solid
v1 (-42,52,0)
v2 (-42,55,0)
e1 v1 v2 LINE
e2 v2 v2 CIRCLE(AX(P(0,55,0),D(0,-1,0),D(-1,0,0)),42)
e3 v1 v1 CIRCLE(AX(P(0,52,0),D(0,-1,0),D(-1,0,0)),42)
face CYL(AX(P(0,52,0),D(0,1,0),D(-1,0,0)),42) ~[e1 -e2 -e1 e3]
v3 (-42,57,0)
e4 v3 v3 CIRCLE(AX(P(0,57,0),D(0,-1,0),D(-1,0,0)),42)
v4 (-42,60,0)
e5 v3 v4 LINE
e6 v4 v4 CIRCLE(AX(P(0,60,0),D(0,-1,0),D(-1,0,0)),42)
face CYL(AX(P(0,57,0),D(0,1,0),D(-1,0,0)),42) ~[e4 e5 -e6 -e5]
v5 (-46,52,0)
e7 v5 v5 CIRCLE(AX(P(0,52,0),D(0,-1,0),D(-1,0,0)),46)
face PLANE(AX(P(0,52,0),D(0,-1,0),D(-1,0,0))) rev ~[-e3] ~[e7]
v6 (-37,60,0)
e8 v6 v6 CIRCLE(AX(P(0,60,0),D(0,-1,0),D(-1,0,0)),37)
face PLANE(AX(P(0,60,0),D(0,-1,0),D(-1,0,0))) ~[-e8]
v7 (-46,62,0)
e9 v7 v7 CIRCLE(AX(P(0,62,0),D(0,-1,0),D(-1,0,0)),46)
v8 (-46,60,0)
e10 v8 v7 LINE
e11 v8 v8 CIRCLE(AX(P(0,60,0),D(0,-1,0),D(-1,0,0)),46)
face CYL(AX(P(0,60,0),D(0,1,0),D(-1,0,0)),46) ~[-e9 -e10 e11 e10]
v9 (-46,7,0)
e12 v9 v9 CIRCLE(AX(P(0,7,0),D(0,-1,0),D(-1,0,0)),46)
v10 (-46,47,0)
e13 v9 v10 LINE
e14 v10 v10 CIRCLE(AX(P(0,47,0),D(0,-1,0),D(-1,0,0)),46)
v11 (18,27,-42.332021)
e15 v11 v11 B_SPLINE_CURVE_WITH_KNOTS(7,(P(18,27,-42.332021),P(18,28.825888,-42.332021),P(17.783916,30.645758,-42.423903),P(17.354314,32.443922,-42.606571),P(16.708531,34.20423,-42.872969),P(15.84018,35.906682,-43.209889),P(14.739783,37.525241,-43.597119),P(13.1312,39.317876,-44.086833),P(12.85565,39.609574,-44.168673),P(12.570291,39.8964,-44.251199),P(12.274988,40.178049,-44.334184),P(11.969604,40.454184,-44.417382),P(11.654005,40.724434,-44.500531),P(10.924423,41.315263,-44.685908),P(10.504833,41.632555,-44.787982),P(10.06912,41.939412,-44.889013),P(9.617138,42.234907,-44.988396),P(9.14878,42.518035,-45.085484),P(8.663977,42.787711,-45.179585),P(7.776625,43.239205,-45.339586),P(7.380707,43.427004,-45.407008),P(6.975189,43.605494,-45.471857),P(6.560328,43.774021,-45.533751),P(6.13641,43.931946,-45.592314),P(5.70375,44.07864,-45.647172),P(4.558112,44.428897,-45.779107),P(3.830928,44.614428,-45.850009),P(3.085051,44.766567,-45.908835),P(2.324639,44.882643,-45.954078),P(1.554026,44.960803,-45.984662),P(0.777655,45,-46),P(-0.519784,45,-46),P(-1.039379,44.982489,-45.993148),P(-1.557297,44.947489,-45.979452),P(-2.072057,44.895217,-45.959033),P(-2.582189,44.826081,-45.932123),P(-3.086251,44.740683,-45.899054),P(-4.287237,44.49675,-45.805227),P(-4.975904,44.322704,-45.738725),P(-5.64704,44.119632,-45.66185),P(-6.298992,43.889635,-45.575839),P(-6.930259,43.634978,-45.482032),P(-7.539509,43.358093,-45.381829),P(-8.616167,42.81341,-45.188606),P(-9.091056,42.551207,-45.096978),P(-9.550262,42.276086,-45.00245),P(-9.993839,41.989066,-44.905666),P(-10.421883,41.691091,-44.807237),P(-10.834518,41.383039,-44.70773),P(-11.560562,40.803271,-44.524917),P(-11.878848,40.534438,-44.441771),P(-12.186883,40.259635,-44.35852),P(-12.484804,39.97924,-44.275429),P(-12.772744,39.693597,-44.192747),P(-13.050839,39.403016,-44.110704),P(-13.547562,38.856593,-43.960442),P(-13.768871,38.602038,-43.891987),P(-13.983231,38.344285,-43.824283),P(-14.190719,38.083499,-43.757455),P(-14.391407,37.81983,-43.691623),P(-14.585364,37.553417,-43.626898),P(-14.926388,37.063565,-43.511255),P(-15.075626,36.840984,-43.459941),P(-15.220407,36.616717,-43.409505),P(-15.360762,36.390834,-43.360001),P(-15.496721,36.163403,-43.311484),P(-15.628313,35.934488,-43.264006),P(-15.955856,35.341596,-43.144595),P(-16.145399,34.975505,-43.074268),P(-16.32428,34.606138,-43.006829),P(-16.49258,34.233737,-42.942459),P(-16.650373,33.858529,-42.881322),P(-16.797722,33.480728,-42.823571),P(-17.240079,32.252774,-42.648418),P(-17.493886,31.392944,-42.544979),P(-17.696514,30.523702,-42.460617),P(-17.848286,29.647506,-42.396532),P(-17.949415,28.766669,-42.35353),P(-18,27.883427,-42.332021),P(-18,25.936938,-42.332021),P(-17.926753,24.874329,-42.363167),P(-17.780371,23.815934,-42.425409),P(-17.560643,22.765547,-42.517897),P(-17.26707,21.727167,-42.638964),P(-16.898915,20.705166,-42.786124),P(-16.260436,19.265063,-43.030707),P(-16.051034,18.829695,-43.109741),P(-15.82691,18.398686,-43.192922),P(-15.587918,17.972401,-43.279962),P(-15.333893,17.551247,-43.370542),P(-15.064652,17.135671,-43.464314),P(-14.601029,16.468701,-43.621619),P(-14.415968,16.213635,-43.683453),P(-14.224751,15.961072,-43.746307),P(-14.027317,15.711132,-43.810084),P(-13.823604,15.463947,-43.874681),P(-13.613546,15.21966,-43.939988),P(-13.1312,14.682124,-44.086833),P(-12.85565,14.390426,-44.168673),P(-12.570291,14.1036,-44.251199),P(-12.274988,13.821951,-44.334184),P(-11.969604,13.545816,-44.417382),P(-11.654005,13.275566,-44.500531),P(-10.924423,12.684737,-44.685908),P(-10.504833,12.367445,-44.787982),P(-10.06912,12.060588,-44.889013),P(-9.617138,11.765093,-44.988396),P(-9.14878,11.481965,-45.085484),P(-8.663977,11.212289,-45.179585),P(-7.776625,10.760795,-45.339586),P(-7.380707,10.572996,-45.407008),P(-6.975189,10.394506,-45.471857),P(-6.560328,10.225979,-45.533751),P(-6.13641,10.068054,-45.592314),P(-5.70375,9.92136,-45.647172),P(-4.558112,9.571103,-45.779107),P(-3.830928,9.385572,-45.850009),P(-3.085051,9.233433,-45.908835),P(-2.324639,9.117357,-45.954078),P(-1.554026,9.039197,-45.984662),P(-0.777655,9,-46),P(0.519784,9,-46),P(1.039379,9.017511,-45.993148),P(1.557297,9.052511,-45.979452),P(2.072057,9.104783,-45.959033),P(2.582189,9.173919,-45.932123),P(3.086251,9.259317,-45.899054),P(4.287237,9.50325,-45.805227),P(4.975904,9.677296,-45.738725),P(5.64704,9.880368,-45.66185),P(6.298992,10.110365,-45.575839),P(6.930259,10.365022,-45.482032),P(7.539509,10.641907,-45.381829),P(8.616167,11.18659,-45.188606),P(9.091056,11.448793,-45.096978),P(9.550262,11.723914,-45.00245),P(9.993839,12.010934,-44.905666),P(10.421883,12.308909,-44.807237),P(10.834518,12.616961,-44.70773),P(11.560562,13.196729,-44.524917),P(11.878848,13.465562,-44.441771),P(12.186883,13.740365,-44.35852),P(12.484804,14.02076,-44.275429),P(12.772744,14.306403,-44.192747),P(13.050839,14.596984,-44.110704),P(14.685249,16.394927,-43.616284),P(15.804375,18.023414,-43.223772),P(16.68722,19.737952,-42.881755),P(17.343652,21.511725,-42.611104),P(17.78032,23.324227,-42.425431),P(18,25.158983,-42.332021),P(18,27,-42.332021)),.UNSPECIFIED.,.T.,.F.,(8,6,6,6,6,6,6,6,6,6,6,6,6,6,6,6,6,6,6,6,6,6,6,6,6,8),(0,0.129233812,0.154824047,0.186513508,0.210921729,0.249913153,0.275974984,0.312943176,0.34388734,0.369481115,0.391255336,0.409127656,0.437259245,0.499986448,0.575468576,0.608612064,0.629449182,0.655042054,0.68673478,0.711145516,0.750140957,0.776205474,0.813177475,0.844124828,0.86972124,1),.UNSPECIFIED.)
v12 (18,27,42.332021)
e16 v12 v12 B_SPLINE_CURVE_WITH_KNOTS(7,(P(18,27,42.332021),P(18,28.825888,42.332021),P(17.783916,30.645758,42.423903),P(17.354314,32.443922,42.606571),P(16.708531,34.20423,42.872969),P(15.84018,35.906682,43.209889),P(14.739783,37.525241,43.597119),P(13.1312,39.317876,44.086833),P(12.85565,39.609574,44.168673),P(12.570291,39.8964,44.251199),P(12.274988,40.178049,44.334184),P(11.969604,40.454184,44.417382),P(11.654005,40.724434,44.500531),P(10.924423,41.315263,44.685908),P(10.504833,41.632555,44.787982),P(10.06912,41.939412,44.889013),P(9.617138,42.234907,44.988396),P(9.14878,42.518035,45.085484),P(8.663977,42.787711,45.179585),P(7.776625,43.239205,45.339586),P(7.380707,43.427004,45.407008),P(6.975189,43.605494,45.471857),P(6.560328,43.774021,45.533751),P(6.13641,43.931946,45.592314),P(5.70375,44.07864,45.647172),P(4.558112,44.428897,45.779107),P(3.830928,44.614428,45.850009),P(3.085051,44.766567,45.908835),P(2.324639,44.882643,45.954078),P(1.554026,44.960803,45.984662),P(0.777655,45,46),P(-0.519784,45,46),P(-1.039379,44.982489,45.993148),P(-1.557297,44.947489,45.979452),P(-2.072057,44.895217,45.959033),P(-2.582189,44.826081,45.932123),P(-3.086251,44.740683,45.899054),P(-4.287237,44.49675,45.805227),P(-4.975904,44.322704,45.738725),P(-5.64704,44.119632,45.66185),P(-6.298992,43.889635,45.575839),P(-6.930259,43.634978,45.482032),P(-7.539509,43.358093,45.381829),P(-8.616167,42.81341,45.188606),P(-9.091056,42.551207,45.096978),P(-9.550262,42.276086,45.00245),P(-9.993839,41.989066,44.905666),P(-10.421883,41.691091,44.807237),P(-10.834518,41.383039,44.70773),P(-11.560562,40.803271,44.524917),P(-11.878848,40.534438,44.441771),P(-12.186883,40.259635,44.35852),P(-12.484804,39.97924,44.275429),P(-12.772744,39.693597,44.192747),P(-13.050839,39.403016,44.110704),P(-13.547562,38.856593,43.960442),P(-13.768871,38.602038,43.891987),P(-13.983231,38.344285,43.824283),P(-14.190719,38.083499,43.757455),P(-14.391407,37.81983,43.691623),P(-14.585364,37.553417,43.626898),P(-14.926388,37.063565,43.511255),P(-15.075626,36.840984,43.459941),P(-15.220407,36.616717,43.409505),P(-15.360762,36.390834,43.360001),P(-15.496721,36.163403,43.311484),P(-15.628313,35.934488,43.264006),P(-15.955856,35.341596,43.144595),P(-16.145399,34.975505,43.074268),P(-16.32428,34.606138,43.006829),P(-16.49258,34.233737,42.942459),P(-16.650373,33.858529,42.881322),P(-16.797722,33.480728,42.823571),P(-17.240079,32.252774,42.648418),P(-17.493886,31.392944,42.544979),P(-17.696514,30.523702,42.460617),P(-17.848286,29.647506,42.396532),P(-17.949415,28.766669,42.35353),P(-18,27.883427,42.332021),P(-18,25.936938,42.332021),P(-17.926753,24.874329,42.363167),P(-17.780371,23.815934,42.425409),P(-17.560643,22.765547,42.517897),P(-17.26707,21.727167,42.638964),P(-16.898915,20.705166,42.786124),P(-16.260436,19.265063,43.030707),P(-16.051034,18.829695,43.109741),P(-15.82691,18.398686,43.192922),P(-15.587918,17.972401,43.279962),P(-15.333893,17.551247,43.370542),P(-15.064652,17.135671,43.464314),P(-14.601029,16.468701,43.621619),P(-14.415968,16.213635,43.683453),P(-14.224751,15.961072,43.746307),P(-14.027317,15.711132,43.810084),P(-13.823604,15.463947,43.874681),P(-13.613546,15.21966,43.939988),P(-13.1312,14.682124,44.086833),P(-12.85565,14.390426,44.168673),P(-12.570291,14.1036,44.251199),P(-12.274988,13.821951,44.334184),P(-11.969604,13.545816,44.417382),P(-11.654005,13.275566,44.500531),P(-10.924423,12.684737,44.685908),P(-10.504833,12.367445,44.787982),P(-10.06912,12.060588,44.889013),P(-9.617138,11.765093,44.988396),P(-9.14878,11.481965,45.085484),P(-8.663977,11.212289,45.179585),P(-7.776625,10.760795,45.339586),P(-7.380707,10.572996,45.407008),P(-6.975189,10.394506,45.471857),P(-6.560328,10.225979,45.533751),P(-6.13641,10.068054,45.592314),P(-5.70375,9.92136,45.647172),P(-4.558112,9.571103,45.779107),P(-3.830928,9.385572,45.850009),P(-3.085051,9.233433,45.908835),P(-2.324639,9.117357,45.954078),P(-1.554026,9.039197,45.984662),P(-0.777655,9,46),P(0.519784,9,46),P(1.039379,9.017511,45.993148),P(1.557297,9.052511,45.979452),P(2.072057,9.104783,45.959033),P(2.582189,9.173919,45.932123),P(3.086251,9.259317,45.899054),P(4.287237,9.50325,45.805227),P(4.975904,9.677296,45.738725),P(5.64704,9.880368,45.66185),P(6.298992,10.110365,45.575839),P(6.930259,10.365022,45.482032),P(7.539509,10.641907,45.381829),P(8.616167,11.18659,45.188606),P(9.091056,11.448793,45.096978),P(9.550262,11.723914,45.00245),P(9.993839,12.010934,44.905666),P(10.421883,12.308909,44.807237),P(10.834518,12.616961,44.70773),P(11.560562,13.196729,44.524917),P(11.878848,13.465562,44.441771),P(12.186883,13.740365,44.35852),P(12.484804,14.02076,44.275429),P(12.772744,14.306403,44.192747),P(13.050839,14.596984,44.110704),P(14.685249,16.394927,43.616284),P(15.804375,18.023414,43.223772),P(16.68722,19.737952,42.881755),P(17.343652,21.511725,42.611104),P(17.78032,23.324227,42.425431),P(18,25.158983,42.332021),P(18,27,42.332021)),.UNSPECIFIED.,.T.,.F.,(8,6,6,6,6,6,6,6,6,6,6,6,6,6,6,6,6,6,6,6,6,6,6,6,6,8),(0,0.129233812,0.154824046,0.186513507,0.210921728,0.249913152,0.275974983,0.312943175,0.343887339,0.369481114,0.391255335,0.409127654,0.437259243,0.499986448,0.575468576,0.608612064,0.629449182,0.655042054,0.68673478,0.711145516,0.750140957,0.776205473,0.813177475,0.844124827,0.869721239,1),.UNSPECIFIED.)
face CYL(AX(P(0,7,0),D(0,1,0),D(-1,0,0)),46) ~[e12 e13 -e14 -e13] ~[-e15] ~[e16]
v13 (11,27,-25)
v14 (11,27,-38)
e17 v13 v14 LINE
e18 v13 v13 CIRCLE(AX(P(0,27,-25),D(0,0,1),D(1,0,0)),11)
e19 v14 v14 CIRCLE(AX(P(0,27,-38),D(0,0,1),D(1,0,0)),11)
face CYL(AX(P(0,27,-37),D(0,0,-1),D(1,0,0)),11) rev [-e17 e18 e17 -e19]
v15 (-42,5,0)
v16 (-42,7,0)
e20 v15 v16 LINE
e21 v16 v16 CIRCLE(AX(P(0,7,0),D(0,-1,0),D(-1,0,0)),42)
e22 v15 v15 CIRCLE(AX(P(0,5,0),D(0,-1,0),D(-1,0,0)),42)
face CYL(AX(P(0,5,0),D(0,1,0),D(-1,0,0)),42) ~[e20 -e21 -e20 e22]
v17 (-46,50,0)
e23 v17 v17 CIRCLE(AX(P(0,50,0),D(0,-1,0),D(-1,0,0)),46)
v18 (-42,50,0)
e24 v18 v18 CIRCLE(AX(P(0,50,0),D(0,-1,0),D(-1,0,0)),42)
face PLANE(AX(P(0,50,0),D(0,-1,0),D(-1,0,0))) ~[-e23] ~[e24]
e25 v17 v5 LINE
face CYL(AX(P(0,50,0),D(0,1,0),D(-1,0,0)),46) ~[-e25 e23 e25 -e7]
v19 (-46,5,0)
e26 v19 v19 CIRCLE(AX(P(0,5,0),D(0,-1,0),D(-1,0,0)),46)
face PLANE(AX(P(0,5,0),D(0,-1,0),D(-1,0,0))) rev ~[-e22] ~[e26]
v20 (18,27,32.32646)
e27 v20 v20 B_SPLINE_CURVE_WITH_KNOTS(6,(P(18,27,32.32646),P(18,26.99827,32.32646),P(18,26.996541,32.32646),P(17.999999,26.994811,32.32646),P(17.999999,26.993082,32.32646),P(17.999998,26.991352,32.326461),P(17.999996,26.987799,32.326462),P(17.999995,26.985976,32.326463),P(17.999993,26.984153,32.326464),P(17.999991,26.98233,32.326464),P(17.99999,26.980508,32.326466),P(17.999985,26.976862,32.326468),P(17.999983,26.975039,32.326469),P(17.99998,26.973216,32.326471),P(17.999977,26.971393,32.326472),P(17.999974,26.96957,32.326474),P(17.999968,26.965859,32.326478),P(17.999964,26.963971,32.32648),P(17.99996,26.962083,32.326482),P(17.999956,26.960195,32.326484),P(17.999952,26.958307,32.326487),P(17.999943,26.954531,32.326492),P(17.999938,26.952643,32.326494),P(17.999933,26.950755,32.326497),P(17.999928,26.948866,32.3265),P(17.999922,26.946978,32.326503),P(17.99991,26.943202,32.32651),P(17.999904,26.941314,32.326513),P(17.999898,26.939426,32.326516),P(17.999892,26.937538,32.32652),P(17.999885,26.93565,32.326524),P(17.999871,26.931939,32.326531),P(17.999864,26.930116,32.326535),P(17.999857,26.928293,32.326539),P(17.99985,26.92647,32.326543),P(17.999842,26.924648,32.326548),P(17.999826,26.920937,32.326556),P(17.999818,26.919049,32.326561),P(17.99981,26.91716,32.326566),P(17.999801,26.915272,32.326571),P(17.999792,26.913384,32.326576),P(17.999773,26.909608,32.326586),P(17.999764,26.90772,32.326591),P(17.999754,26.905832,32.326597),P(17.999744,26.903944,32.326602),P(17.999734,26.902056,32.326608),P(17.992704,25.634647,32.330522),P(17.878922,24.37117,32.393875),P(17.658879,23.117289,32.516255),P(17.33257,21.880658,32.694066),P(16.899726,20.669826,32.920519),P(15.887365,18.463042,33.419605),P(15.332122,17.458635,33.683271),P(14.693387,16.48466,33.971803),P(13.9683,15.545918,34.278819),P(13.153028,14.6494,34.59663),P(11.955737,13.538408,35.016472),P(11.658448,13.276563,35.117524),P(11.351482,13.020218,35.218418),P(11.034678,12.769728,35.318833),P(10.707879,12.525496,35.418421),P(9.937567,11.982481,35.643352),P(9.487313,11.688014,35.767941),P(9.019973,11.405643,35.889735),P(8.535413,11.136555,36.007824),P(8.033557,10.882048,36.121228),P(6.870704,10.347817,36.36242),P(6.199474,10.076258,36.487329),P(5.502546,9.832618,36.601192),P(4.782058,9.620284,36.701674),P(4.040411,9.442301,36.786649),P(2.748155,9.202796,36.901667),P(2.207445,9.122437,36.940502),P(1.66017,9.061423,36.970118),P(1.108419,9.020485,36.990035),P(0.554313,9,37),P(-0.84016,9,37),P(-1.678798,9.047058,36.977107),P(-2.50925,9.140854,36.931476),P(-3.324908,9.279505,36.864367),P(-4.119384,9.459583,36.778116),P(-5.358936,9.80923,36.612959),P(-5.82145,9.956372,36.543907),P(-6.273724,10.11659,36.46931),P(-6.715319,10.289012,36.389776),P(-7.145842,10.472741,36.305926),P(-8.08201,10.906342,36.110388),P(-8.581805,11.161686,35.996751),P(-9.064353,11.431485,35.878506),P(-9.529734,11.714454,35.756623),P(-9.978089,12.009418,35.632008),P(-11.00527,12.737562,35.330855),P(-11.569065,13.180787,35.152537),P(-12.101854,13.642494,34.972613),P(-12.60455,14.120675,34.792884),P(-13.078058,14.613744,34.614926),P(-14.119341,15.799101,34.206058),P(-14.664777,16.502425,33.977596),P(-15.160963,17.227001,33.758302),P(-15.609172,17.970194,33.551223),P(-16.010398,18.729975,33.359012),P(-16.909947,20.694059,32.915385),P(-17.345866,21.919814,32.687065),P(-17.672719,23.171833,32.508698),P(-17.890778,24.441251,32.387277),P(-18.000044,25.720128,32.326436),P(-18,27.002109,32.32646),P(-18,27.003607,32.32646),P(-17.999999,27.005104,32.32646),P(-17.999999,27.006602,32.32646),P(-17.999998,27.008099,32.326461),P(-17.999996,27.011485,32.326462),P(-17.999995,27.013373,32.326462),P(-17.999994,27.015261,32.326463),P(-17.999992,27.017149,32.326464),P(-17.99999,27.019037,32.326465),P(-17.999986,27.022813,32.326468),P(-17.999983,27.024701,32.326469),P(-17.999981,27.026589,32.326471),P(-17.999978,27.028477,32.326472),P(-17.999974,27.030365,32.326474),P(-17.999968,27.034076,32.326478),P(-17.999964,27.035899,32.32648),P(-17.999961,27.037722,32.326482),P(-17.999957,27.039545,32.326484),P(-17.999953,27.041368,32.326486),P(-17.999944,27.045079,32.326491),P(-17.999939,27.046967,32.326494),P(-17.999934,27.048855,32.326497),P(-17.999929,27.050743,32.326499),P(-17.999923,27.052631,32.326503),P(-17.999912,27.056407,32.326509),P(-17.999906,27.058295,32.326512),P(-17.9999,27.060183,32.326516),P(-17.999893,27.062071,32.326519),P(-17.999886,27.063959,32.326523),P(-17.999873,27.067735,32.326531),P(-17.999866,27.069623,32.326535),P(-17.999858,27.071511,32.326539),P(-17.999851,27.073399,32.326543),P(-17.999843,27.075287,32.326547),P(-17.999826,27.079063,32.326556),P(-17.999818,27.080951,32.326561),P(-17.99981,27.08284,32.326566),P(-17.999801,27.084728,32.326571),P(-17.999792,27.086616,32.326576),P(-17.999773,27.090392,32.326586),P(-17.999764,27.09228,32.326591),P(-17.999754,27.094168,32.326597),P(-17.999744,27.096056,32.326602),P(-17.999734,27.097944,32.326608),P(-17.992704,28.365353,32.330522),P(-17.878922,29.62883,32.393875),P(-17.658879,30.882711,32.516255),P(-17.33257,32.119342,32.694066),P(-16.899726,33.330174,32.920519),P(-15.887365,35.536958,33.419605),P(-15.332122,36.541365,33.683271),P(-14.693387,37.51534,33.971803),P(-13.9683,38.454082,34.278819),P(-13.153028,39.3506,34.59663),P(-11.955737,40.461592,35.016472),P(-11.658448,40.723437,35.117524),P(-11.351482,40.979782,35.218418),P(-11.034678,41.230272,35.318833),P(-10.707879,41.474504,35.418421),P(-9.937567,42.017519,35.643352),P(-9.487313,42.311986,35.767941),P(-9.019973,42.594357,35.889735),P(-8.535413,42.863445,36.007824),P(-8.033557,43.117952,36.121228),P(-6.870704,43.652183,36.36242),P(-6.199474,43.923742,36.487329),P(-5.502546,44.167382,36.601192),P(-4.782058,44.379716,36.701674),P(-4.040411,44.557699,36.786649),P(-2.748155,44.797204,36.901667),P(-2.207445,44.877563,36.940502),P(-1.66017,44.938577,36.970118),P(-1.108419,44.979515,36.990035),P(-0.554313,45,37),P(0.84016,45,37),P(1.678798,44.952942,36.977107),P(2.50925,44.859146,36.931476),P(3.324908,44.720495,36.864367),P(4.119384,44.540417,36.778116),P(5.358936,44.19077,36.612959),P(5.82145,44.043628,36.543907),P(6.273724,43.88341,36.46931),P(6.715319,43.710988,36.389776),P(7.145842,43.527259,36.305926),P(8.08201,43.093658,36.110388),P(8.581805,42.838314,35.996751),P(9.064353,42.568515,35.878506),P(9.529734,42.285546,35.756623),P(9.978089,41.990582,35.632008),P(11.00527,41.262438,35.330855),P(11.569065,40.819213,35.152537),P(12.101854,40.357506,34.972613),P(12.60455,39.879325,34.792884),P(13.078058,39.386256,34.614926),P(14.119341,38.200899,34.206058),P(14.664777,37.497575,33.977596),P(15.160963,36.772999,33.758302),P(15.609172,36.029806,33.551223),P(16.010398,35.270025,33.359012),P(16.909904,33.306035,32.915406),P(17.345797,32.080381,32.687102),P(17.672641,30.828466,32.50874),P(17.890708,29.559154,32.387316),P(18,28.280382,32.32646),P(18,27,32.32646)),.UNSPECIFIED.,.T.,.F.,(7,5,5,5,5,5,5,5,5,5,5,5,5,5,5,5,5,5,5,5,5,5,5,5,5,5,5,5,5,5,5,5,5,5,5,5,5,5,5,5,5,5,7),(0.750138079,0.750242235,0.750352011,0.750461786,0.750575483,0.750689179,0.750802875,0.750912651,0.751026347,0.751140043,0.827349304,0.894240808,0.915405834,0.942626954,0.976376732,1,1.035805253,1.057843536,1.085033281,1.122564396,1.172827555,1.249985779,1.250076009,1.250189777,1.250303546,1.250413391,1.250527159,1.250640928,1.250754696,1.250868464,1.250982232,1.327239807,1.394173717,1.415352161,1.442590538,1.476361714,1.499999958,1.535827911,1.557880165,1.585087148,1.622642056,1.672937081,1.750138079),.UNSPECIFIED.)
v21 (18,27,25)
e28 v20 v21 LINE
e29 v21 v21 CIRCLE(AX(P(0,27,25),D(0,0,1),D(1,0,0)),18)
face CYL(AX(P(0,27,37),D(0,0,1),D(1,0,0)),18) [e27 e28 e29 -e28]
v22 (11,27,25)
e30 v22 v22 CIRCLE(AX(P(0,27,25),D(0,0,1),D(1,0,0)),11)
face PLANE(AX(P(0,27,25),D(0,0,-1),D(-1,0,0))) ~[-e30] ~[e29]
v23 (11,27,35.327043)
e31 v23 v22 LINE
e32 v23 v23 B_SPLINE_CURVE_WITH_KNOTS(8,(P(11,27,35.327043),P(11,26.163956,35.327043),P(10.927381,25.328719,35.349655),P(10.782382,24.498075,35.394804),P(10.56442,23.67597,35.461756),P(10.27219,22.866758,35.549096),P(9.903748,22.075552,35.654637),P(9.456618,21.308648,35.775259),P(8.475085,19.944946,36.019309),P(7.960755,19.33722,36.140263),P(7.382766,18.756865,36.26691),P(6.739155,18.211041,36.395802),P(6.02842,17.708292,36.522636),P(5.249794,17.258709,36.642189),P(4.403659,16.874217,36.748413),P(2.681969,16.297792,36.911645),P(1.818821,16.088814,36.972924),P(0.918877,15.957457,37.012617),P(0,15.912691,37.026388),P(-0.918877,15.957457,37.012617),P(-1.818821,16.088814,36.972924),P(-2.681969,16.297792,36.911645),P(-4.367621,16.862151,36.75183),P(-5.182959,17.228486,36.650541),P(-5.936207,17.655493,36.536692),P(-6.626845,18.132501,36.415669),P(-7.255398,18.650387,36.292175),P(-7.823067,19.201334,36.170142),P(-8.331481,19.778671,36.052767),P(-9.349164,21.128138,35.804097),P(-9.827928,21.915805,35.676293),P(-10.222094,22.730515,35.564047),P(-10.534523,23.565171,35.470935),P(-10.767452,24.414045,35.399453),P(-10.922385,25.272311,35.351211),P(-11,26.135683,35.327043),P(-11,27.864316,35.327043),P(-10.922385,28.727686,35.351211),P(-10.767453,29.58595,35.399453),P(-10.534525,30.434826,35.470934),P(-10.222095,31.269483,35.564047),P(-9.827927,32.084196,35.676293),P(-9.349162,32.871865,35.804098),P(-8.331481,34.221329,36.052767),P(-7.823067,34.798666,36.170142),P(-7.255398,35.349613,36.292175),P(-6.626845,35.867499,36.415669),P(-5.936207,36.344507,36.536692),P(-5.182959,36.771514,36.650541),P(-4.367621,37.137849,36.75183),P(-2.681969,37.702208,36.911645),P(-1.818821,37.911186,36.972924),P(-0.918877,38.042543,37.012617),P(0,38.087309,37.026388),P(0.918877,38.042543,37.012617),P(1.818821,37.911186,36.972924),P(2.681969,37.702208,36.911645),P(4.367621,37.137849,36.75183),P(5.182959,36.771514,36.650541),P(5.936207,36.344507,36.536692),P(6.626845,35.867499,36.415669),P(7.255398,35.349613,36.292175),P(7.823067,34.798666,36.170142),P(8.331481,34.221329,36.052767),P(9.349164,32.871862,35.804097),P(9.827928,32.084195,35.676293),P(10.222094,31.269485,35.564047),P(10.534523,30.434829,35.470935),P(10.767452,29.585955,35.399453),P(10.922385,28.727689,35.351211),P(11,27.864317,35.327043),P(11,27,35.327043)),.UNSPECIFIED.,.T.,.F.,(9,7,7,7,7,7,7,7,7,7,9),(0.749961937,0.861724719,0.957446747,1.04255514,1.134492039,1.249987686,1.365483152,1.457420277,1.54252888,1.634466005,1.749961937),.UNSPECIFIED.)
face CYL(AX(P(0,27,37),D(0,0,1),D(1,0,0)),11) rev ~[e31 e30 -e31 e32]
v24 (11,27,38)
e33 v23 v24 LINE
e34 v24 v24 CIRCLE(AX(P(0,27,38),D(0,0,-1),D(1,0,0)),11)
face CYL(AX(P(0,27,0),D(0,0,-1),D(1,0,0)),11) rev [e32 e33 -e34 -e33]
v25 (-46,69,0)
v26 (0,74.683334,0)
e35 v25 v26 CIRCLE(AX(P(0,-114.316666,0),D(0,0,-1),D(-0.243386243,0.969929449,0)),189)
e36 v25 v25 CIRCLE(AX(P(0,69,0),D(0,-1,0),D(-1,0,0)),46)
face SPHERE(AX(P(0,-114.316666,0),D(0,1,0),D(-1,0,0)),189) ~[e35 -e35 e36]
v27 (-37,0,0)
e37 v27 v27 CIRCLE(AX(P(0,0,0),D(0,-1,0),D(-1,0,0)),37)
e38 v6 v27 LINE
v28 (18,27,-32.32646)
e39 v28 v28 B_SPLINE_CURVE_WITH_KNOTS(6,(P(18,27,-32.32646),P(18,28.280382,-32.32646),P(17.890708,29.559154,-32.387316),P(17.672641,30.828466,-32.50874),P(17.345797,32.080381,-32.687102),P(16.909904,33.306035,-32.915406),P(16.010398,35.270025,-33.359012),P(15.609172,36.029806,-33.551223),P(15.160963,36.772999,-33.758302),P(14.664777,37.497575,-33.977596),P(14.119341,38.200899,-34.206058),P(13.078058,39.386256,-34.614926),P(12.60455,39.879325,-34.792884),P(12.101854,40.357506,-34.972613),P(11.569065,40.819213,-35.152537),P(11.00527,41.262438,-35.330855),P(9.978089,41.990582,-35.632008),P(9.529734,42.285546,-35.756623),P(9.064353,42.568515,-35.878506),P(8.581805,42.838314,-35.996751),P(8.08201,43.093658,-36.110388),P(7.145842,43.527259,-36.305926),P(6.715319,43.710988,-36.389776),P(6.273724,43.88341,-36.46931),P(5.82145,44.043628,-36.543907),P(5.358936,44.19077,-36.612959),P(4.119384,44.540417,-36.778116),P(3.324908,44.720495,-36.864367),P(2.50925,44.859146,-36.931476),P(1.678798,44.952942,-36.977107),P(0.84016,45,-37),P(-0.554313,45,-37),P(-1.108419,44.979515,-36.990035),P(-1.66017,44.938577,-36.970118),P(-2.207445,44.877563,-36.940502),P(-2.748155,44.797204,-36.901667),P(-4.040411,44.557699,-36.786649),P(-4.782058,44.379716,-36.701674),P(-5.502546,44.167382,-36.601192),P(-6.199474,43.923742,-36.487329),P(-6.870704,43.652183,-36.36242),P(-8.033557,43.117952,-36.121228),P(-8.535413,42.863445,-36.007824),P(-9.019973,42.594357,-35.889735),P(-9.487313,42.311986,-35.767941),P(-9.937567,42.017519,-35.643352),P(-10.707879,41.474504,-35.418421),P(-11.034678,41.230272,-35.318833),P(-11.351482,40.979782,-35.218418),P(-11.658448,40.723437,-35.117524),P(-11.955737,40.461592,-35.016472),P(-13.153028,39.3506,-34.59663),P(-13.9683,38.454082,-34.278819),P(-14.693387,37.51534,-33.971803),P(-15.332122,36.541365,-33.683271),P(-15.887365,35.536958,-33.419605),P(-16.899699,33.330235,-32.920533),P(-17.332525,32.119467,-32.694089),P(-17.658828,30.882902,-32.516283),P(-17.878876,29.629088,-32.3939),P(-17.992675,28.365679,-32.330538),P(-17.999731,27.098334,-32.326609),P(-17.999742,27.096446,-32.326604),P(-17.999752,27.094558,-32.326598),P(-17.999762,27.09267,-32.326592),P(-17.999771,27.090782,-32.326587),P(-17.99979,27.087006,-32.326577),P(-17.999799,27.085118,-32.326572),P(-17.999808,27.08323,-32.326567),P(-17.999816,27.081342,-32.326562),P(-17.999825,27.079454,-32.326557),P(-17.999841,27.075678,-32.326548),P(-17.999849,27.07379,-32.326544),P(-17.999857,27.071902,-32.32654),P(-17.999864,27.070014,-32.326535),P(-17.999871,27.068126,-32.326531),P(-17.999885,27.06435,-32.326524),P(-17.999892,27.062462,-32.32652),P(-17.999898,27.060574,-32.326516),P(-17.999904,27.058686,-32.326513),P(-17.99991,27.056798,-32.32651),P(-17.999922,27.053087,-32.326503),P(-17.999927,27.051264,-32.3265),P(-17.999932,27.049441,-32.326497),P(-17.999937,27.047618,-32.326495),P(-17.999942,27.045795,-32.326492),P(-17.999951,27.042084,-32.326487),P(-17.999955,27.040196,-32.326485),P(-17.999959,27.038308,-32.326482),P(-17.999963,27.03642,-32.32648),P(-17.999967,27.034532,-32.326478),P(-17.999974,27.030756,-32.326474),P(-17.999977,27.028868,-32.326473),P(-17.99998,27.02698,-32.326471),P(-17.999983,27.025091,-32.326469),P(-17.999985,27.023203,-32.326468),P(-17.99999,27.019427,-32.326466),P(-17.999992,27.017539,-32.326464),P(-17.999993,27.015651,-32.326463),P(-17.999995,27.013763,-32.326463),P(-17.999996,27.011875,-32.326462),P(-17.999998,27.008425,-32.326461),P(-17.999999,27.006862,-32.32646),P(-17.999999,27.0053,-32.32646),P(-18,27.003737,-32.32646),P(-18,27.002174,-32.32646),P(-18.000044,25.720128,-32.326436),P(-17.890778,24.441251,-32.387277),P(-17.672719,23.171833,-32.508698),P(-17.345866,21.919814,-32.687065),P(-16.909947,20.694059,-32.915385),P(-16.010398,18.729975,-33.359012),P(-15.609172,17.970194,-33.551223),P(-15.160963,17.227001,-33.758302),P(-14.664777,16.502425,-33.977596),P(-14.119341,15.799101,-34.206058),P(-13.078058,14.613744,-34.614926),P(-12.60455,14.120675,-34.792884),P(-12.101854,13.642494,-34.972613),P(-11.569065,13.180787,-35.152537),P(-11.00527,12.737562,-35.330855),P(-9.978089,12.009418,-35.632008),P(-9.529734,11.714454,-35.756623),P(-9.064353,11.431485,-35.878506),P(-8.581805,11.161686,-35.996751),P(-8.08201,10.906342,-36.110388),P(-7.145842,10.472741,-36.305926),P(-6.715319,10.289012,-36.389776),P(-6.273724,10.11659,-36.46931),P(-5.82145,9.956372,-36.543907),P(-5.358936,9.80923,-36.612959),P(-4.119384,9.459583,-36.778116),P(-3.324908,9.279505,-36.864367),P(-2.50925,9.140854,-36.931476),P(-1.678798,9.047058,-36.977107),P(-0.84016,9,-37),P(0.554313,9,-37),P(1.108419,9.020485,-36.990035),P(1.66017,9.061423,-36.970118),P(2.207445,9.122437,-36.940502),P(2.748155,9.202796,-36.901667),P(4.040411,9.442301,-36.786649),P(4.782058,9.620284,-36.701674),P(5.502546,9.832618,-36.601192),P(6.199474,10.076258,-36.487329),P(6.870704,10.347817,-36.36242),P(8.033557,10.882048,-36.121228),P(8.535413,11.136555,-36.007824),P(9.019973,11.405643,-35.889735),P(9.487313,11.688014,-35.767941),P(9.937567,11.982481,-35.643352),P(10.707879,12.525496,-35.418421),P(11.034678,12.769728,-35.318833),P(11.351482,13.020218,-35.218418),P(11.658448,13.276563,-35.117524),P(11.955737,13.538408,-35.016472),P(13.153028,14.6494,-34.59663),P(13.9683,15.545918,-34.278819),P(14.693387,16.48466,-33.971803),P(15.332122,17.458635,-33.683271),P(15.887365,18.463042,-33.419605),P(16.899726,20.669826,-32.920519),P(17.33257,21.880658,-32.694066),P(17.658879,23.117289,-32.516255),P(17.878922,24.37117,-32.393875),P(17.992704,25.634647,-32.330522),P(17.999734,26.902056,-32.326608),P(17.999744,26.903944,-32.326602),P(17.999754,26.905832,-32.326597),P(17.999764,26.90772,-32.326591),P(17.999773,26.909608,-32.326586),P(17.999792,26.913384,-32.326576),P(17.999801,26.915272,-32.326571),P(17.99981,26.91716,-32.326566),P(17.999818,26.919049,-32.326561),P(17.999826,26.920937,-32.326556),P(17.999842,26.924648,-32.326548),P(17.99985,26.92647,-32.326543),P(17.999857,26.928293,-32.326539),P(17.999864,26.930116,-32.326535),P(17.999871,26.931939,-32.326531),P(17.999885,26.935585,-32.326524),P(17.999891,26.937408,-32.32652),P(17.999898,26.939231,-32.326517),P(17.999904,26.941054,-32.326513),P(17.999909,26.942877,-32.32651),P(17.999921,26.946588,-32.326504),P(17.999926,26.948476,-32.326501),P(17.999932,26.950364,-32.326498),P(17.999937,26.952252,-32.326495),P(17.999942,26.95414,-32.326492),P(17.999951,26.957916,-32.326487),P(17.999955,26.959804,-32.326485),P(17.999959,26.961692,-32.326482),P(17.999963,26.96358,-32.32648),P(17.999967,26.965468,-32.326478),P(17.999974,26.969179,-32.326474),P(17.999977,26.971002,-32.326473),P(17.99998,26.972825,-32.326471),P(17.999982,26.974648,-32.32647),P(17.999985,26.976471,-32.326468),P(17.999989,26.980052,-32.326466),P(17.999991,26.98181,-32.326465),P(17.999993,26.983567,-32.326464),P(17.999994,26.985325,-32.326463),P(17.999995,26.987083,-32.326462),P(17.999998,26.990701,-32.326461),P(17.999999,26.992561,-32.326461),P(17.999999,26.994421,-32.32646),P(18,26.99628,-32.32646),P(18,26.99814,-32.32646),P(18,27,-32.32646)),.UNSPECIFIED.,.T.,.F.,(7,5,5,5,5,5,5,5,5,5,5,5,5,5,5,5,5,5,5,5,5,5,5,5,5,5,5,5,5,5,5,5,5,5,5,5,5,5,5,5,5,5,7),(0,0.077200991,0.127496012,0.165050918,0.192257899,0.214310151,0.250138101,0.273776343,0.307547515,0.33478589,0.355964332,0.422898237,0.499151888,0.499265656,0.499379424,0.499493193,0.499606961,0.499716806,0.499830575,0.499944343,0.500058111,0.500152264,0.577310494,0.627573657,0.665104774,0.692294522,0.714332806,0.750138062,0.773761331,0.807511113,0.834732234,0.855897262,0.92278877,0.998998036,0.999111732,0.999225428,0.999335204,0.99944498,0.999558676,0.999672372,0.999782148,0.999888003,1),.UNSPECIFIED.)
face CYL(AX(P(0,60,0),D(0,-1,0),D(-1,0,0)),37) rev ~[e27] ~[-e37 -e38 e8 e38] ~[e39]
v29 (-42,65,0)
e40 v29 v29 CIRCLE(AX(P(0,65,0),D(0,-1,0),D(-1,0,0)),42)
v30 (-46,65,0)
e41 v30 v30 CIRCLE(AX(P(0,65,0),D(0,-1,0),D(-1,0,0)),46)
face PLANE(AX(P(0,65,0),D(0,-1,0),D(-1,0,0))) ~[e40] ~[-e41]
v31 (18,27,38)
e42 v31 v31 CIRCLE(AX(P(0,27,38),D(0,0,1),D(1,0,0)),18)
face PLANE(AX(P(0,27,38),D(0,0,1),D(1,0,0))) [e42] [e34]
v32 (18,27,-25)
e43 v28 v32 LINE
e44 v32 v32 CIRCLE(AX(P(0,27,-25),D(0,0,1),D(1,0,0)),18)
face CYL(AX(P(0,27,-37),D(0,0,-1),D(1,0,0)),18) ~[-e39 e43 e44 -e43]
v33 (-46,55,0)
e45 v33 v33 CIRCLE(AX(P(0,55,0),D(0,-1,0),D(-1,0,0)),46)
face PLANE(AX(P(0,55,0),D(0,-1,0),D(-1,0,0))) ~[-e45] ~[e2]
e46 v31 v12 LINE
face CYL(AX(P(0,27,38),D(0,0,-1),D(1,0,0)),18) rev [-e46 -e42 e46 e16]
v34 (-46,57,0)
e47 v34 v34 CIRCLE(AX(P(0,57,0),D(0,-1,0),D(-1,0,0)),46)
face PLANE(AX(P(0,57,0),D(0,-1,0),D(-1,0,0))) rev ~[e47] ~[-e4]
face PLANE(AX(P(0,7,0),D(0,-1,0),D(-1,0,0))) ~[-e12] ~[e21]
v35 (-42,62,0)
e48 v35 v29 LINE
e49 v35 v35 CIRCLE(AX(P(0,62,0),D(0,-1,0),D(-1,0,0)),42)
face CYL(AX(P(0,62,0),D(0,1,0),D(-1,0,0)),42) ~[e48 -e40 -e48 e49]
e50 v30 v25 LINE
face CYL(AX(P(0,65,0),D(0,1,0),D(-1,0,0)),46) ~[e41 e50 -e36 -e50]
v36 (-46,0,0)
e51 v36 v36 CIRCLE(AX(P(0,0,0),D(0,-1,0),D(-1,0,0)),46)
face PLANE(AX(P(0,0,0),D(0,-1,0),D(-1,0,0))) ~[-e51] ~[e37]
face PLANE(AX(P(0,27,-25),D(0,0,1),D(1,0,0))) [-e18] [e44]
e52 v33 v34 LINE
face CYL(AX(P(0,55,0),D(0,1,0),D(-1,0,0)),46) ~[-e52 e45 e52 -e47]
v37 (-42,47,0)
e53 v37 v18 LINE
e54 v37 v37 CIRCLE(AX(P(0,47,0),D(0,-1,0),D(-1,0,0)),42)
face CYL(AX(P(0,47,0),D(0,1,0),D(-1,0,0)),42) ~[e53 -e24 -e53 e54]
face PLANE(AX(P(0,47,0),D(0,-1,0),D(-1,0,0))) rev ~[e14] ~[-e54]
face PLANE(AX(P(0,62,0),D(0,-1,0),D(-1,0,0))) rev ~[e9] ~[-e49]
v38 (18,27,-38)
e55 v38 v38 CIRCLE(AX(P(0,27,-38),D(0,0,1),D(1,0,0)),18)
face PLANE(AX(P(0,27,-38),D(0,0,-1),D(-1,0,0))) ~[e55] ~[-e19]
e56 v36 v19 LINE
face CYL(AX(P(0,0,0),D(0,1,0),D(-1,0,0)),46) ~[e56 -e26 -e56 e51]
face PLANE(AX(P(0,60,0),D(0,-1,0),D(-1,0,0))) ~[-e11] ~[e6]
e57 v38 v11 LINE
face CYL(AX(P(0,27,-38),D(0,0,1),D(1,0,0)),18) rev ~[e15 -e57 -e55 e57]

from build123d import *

# Parameters (mm, degrees)
SKETCH19_R              = 11
CUT_EXTRUDE4_DEPTH      = 47
CUT_EXTRUDE4_DEPTH_BACK = 47
CUT_EXTRUDE5_START      = 38
SKETCH20_R              = 18
CUT_EXTRUDE5_DEPTH      = 51.0000001
BOSS_EXTRUDE2_START     = -37
SKETCH21_R              = 18
SKETCH21_R_2            = 11
BOSS_EXTRUDE2_DEPTH     = 12


with BuildPart() as part:
    # Sketch1 → Revolve1 (revolve)
    with BuildSketch(Plane.XY):
        with BuildLine():
            Line((-46, 0), (-46, 5))
            Line((-46, 5), (-42, 5))
            Line((-42, 5), (-42, 7))
            Line((-42, 7), (-46, 7))
            Line((-46, 7), (-46, 9))
            Line((-46, 9), (-46, 45))
            Line((-46, 45), (-46, 47))
            Line((-46, 47), (-42, 47))
            Line((-42, 47), (-42, 50))
            Line((-42, 50), (-46, 50))
            Line((-46, 50), (-46, 52))
            Line((-46, 52), (-42, 52))
            Line((-42, 52), (-42, 55))
            Line((-42, 55), (-46, 55))
            Line((-46, 55), (-46, 57))
            Line((-46, 57), (-42, 57))
            Line((-42, 57), (-42, 60))
            Line((-42, 60), (-46, 60))
            Line((-46, 60), (-46, 62))
            Line((-46, 62), (-42, 62))
            Line((-42, 62), (-42, 65))
            Line((-42, 65), (-46, 65))
            Line((-46, 65), (-46, 69))
            ThreePointArc((-46, 69), (-23.174880185, 73.257119382), (0, 74.683334091))
            Line((0, 74.683334091), (0, 69))
            Line((0, 69), (0, 60))
            Line((0, 60), (-37, 60))
            Line((-37, 60), (-37, 47))
            Line((-37, 47), (-37, 9))
            Line((-37, 9), (-37, 0))
            Line((-37, 0), (-46, 0))
        make_face()
    revolve(axis=Axis((0, 165.443928378, 0), (0, -1, 0)))

    # Sketch19 → Cut-Extrude4 (cut, two sides)
    with BuildSketch(Plane.XY) as cut_extrude4_sk:
        with Locations((0, 27)):
            Circle(SKETCH19_R)
    extrude(amount=CUT_EXTRUDE4_DEPTH, mode=Mode.SUBTRACT)
    extrude(cut_extrude4_sk.sketch, amount=-CUT_EXTRUDE4_DEPTH_BACK, mode=Mode.SUBTRACT)

    # Sketch20 → Cut-Extrude5 (cut)
    with BuildSketch(Plane.XY.offset(CUT_EXTRUDE5_START)):
        with Locations((0, 27)):
            Circle(SKETCH20_R)
    cut_extrude5 = extrude(amount=CUT_EXTRUDE5_DEPTH, mode=Mode.SUBTRACT)

    # Mirror1: Cut-Extrude5 across plane
    add(cut_extrude5.mirror(Plane.XY), mode=Mode.SUBTRACT)

    # Sketch21 → Boss-Extrude2 (add)
    with BuildSketch(Plane.XY.offset(BOSS_EXTRUDE2_START)):
        with Locations((0, 27)):
            Circle(SKETCH21_R)
        with Locations((0, 27)):
            Circle(SKETCH21_R_2, mode=Mode.SUBTRACT)
    boss_extrude2 = extrude(amount=BOSS_EXTRUDE2_DEPTH)

    # Mirror2: Boss-Extrude2 across plane
    add(boss_extrude2.mirror(Plane.XY))


solid = part.part
